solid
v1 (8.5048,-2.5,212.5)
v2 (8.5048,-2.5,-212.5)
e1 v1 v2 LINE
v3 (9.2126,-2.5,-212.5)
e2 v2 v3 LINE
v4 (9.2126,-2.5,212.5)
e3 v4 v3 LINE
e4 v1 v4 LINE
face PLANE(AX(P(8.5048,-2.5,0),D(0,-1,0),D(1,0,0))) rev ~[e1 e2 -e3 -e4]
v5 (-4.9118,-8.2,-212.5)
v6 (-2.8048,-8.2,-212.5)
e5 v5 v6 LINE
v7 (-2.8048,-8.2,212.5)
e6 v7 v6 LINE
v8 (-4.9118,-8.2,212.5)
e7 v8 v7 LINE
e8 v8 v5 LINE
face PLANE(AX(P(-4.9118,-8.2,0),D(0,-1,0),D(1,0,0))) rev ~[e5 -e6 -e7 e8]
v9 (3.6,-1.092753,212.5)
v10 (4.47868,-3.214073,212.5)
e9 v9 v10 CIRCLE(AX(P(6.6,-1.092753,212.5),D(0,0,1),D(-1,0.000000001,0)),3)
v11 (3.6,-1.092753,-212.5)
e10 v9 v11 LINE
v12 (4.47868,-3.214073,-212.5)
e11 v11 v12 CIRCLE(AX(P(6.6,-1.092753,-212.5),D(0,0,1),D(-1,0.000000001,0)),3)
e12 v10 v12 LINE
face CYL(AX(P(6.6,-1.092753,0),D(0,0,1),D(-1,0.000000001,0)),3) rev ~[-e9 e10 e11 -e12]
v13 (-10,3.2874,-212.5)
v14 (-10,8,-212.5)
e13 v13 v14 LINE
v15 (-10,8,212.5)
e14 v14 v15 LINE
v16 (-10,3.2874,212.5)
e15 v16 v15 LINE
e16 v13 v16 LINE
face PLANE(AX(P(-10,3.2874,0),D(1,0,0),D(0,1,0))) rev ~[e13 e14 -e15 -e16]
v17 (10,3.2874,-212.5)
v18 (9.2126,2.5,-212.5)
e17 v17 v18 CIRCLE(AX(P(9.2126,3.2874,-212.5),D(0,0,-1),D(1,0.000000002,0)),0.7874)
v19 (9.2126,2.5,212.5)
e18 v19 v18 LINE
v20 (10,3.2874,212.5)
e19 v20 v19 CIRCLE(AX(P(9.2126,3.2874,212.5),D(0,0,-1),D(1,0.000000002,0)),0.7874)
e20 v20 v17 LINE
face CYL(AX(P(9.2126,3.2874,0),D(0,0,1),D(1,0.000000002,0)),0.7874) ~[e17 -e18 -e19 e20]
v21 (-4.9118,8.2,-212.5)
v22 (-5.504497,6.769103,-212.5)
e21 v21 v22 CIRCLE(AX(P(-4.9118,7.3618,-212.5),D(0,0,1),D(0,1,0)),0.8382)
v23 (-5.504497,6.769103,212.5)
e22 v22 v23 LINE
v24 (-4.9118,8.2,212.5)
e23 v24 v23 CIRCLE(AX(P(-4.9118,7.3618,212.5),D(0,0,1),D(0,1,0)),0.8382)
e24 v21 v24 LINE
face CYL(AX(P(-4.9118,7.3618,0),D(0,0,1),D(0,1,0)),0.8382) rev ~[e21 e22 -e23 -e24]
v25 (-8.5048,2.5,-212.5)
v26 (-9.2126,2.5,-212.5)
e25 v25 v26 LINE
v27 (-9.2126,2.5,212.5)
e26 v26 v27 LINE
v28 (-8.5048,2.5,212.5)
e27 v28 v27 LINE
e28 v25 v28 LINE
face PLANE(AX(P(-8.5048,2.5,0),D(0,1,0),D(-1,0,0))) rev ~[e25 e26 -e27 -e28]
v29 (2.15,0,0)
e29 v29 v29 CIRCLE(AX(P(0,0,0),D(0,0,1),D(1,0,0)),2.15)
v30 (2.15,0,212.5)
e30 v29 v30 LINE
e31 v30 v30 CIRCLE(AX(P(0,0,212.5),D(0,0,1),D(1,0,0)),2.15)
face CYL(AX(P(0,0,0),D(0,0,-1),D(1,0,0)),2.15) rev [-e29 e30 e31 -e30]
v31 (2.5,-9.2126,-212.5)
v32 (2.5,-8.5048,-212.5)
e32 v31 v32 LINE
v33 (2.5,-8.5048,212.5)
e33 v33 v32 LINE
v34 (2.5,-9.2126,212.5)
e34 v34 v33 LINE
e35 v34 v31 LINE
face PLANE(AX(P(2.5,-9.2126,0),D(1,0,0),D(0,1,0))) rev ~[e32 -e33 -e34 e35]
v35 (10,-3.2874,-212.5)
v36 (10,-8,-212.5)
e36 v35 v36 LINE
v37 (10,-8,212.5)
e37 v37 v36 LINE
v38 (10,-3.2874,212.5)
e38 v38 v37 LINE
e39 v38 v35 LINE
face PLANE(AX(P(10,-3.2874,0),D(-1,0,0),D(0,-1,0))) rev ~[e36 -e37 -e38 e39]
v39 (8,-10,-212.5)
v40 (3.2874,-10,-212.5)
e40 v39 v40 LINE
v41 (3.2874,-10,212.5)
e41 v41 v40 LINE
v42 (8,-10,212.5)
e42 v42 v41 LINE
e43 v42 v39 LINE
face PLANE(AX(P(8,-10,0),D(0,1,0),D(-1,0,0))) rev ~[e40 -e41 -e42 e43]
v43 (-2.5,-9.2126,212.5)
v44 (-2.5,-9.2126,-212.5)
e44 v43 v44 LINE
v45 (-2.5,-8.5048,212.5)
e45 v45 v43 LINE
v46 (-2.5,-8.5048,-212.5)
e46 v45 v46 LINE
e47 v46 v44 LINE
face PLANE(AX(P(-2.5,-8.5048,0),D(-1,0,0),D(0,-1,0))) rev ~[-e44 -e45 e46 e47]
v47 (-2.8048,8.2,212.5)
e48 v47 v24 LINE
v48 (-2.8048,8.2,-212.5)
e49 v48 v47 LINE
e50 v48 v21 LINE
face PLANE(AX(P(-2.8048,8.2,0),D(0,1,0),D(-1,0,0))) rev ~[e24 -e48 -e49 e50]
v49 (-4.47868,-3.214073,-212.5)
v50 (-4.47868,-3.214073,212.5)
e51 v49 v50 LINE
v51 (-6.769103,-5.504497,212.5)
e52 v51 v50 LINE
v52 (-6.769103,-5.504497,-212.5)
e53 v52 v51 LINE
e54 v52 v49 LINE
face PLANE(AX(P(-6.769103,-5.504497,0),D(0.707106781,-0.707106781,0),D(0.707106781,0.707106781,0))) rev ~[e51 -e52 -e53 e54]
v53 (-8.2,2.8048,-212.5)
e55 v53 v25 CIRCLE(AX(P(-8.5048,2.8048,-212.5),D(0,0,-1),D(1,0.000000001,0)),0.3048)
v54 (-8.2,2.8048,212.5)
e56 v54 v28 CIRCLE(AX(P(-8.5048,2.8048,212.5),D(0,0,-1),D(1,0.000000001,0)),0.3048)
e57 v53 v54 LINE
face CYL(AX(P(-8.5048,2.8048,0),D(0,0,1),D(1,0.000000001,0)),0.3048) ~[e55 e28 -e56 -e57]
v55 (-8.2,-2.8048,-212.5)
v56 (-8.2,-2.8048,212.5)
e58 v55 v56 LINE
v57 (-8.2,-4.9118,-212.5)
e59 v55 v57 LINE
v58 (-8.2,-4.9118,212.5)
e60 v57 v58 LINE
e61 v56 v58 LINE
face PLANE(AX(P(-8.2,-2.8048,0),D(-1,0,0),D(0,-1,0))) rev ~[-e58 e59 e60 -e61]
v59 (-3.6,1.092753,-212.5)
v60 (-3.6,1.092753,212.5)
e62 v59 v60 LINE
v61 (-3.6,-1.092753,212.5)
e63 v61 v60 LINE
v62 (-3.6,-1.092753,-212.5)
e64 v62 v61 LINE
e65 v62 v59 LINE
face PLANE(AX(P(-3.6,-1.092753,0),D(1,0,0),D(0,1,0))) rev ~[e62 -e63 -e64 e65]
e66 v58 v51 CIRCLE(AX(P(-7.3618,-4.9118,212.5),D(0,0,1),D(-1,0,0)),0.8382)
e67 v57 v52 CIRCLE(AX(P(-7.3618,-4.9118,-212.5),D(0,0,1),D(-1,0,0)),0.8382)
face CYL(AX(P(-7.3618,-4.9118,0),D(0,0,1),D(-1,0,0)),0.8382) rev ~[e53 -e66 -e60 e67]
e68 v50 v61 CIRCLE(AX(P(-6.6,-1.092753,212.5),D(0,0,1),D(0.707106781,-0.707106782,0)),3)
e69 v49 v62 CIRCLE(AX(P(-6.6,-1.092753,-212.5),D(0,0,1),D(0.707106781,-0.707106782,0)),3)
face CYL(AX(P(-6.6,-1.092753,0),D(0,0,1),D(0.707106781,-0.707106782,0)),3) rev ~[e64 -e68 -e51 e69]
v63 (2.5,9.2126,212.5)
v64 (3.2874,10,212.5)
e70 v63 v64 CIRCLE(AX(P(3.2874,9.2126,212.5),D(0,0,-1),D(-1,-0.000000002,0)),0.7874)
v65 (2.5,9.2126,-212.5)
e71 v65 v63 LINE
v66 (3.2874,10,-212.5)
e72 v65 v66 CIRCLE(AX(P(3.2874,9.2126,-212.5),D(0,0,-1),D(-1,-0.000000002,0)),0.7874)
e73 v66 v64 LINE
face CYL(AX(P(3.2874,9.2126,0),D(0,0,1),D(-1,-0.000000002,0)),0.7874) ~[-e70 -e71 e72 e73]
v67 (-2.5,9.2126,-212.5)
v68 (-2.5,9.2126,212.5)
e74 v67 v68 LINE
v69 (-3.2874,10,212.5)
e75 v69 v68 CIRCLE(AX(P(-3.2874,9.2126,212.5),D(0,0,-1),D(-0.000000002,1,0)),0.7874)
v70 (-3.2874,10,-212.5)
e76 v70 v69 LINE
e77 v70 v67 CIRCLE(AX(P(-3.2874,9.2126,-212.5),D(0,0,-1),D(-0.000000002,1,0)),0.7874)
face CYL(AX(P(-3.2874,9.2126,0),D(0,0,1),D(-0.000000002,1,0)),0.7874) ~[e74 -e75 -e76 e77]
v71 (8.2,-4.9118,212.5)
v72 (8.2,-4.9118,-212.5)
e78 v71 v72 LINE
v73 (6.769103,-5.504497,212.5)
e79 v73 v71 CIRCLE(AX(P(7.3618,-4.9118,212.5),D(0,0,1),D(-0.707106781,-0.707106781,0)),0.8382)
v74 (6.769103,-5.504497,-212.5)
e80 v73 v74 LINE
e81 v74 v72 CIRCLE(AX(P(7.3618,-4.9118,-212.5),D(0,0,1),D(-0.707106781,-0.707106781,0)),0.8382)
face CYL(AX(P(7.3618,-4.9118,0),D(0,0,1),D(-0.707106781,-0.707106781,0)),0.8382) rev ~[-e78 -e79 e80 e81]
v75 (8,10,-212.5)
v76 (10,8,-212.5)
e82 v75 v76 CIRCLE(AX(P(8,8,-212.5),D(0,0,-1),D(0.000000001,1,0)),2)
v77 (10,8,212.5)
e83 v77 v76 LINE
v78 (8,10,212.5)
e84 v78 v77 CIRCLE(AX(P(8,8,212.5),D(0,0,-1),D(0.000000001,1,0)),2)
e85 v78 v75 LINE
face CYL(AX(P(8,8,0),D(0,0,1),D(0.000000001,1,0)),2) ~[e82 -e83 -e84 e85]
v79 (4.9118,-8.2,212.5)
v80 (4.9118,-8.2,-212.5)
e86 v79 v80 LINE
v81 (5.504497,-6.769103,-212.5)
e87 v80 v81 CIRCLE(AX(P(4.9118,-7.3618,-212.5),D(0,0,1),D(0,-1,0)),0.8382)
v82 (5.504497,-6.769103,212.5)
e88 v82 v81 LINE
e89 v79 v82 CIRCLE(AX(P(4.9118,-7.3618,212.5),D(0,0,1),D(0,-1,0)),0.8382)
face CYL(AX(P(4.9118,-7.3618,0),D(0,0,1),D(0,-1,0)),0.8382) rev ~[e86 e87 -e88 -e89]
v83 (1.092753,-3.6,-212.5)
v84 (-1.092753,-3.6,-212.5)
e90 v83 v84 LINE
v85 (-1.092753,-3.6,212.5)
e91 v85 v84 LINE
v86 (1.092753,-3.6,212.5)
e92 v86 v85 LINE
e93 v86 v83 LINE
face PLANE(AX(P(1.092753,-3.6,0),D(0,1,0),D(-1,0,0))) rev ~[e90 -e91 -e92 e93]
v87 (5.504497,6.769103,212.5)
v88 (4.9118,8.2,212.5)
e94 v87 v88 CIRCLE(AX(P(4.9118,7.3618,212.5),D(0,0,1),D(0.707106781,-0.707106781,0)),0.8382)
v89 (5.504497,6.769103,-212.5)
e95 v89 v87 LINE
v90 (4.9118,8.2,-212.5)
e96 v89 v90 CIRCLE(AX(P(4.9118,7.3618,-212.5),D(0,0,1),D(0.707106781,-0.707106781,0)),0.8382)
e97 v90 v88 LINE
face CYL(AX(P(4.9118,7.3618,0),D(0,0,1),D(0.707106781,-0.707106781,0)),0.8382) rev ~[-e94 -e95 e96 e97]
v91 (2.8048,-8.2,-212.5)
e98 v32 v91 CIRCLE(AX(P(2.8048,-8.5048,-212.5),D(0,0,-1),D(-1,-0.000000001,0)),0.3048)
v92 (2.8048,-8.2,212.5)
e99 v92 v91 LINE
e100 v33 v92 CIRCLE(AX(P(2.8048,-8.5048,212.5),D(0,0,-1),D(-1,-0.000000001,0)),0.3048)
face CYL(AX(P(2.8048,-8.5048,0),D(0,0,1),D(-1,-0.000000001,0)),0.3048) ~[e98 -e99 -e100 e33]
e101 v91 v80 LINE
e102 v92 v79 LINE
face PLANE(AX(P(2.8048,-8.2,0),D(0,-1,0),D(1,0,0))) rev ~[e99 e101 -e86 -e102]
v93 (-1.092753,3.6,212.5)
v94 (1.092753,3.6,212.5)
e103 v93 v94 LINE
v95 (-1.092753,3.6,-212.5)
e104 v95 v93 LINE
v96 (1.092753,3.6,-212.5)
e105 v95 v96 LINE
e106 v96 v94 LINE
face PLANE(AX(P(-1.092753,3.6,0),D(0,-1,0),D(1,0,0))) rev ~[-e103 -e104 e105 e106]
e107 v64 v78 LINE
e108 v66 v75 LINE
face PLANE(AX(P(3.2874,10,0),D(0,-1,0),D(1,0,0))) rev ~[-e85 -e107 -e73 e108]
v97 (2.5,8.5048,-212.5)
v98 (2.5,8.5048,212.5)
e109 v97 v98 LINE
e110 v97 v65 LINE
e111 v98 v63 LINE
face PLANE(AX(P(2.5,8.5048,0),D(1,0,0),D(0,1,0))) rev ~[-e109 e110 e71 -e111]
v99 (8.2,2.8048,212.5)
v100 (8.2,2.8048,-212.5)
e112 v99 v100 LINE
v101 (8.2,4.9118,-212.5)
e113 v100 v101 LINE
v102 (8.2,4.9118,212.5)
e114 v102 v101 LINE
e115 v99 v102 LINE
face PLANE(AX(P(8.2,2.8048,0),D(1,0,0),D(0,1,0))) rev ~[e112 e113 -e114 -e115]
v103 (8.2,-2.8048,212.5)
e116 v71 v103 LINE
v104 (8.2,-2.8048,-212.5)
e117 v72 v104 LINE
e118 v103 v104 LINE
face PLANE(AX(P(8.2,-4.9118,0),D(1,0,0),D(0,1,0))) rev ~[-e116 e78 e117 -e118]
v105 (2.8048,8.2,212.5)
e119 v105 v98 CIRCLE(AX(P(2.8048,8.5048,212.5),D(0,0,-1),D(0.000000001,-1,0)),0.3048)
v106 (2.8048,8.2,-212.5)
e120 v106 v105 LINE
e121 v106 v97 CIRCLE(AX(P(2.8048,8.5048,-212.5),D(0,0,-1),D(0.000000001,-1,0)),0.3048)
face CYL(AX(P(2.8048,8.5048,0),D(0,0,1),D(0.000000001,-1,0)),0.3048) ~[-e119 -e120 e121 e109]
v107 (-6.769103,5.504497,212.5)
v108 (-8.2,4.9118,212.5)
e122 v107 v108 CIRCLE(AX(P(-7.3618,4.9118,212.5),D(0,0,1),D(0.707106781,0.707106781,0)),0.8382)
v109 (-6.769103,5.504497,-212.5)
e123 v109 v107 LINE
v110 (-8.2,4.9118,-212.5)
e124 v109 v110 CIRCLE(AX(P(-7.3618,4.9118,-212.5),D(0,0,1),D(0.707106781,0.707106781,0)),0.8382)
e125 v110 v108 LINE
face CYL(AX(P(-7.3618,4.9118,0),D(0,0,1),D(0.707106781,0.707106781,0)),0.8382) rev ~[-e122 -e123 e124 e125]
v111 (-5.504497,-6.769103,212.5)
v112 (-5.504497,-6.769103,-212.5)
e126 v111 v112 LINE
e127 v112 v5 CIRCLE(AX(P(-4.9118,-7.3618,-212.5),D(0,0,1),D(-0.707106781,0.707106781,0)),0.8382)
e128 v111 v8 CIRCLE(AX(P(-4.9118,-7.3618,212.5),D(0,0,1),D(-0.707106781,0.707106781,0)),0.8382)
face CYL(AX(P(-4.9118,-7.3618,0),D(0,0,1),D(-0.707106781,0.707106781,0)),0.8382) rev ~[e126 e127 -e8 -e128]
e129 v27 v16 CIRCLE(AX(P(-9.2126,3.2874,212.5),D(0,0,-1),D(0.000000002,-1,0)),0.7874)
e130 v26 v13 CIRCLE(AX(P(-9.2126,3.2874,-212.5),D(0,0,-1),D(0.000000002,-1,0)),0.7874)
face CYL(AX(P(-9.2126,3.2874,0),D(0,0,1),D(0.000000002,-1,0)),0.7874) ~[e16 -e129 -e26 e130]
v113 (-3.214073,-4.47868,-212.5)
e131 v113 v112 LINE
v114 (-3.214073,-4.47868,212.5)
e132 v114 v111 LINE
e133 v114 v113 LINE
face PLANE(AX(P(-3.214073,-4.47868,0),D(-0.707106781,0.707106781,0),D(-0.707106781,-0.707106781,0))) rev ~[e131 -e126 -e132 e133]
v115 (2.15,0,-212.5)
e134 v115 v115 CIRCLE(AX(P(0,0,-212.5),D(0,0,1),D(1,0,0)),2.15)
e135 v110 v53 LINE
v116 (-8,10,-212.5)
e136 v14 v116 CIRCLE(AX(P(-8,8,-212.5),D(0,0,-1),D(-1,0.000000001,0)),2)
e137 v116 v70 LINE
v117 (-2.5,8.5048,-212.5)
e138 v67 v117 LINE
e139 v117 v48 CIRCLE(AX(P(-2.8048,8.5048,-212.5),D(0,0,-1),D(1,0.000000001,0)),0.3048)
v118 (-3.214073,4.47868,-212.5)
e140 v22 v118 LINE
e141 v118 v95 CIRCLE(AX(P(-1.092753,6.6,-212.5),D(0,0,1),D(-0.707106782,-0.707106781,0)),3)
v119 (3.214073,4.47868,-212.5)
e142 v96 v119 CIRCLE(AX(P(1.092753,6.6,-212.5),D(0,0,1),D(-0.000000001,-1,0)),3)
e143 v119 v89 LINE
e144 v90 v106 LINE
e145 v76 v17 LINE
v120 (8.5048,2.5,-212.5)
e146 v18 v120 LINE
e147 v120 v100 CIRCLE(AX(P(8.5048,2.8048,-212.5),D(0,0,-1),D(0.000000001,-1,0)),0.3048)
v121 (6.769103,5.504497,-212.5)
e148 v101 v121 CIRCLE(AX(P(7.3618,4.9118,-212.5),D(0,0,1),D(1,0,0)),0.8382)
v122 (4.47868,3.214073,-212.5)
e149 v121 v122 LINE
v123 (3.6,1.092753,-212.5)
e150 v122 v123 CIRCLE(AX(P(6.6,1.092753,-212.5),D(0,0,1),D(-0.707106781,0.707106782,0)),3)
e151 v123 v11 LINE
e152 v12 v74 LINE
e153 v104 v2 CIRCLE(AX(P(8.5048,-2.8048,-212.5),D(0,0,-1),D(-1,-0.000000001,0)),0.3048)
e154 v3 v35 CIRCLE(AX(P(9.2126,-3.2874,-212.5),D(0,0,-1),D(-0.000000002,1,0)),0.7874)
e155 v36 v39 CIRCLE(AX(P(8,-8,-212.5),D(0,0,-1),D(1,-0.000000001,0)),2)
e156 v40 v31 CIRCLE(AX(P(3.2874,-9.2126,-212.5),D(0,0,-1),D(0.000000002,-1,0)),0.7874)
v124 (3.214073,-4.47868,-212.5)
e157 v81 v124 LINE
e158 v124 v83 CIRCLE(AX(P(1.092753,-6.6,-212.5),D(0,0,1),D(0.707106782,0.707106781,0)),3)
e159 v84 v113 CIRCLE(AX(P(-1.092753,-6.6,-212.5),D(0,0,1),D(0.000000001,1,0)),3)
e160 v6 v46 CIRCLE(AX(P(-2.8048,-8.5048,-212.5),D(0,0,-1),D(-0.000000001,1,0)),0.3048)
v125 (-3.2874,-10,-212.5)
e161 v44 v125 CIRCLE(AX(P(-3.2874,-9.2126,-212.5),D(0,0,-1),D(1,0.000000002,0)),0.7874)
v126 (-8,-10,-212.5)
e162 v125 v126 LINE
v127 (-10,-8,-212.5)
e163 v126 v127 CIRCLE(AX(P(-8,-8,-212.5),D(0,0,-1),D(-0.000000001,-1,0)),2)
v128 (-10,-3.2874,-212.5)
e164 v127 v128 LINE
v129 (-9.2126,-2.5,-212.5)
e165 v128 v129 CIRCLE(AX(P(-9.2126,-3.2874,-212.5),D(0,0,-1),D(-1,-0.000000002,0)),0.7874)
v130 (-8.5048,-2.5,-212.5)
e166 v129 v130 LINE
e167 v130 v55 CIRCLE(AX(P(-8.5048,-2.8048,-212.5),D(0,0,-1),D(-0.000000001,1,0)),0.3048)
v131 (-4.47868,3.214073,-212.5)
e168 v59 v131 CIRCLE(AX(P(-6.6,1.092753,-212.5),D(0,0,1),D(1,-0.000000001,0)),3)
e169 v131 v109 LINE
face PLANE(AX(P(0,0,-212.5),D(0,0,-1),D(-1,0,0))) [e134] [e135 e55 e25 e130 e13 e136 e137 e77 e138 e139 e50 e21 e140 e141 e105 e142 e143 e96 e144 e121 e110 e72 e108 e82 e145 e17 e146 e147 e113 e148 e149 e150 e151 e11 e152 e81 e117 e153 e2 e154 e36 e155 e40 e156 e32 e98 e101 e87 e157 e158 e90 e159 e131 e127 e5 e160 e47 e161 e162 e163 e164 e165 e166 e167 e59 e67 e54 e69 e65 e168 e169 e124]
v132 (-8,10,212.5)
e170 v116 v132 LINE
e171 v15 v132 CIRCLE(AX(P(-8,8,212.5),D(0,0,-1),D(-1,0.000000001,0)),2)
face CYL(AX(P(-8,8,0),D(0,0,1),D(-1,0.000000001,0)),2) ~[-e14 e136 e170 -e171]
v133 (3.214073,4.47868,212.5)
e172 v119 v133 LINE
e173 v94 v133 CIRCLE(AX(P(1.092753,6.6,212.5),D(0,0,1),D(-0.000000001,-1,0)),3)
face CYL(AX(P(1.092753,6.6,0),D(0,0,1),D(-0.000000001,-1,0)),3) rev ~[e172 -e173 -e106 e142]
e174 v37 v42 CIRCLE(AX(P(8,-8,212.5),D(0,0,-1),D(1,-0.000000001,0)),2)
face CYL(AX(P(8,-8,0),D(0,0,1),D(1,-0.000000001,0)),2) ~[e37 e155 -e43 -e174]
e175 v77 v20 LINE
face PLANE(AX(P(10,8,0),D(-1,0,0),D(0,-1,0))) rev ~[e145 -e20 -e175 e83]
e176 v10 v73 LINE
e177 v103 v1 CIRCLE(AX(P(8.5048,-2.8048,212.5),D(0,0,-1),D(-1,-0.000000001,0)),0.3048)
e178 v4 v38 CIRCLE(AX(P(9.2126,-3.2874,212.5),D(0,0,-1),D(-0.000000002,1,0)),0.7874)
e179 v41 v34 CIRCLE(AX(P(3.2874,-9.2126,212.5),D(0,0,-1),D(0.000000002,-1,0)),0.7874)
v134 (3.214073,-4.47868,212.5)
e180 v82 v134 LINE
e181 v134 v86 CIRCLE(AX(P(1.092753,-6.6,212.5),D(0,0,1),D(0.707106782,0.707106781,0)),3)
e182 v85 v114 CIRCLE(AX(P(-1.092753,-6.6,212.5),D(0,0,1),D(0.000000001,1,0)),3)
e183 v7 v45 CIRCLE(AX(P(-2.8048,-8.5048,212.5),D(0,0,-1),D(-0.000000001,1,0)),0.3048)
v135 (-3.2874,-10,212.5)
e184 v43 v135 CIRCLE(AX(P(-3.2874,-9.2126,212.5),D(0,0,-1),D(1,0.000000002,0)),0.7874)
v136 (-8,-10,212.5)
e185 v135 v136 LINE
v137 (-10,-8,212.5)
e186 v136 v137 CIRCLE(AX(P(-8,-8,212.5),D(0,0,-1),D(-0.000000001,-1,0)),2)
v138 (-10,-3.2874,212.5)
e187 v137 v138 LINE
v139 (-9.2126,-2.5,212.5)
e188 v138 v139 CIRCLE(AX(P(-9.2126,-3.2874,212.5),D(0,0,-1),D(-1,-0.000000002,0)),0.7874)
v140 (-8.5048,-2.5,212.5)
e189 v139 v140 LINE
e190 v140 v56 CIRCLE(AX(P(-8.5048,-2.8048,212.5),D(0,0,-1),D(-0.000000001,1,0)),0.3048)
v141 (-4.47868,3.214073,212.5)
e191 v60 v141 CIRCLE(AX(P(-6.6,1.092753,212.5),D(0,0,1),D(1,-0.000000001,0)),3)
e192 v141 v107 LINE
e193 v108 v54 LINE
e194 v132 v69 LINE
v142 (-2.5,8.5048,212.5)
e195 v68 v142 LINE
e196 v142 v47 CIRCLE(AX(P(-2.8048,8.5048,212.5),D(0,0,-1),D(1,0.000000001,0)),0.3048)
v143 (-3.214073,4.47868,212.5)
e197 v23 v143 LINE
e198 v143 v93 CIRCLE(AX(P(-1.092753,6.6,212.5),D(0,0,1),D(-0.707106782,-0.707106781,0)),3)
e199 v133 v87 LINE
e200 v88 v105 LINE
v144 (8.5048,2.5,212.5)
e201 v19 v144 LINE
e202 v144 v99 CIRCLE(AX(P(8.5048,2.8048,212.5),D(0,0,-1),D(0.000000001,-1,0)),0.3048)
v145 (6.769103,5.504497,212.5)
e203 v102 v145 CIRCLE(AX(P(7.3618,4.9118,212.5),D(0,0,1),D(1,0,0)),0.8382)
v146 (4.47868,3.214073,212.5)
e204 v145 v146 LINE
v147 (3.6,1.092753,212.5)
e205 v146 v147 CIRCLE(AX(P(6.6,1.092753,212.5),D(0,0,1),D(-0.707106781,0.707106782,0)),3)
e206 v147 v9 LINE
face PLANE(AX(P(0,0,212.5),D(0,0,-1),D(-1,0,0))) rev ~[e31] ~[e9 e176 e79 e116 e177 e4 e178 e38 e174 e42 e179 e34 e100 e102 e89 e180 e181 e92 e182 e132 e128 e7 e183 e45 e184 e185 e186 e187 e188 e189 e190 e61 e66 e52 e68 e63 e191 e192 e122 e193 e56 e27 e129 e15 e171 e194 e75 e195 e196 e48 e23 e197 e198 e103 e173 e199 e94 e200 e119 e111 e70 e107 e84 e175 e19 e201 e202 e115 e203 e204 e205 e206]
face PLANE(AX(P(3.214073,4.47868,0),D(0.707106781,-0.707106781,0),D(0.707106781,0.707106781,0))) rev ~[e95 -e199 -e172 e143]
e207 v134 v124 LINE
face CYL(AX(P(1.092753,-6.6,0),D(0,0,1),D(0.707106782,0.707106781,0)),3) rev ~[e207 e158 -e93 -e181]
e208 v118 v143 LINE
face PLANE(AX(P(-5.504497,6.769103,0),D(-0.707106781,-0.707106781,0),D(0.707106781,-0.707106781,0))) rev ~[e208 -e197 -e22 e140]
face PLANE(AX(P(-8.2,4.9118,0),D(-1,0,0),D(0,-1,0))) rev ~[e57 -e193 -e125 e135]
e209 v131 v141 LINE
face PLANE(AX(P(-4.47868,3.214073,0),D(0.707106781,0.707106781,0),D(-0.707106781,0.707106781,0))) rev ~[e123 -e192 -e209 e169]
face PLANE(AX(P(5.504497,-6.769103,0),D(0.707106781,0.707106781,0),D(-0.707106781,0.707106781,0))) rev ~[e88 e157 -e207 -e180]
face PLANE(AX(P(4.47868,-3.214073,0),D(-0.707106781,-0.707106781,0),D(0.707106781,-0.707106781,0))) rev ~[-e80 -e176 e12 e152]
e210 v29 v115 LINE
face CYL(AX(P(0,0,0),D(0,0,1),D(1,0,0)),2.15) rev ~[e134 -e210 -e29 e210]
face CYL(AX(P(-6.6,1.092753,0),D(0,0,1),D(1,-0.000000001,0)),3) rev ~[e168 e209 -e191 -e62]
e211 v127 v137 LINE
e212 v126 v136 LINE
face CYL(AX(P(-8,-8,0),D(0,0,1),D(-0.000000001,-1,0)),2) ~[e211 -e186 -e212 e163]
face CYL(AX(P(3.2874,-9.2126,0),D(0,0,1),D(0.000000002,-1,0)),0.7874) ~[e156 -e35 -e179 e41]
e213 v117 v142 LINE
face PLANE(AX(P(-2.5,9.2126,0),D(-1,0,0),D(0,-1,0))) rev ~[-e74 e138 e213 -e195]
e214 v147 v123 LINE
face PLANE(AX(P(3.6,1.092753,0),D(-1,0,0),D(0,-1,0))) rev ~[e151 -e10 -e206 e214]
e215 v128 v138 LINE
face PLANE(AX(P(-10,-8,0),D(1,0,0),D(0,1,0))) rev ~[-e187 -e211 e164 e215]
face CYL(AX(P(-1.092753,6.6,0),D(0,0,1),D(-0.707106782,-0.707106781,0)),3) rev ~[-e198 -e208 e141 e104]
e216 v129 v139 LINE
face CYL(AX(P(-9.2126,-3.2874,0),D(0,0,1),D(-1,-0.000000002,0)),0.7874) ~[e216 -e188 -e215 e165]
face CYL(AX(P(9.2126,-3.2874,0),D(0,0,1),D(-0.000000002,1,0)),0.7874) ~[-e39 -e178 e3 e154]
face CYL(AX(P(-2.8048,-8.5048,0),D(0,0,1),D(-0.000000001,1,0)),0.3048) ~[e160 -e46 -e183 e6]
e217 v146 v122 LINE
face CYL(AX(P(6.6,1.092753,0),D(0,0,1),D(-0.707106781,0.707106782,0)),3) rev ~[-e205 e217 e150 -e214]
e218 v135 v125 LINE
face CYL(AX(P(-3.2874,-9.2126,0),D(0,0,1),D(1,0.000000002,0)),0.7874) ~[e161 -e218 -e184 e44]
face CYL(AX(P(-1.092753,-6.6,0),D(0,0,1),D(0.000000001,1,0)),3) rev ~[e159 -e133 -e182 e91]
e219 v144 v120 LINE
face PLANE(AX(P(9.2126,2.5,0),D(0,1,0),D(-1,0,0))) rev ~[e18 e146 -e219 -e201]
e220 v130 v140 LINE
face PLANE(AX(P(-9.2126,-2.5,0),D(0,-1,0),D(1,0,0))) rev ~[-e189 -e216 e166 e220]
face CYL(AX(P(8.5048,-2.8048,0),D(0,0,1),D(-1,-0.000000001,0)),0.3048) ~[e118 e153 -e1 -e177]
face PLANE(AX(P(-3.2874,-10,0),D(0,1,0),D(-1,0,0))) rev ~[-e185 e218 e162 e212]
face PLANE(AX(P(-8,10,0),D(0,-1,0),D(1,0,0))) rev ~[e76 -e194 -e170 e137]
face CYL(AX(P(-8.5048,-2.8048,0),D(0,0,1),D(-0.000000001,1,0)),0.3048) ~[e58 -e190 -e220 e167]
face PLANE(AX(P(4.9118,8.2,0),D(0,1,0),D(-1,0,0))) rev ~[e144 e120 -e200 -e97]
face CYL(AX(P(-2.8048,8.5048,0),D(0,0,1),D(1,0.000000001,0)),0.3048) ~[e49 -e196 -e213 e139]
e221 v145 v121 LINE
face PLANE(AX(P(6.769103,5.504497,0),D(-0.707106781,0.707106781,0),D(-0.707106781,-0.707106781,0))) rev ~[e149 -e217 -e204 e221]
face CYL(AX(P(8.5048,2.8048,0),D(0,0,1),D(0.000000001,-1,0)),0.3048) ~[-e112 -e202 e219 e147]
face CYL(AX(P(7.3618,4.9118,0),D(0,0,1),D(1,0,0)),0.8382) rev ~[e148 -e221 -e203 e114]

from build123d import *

# Parameters (mm, degrees)
SKETCH3_R                = 2.15
BOSS_EXTRUDE1_DEPTH      = 212.5
BOSS_EXTRUDE1_DEPTH_BACK = 212.5


with BuildPart() as part:
    # Sketch3 → Boss-Extrude1 (new body, two sides)
    with BuildSketch(Plane.XY) as boss_extrude1_sk:
        with BuildLine():
            Line((3.2874, 10), (8, 10))
            ThreePointArc((8, 10), (9.414213562, 9.414213562), (10, 8))
            Line((10, 8), (10, 3.2874))
            ThreePointArc((10, 3.2874), (9.76937588, 2.73062412), (9.2126, 2.5))
            Line((9.2126, 2.5), (8.5048, 2.5))
            ThreePointArc((8.5048, 2.5), (8.289273853, 2.589273853), (8.2, 2.8048))
            Line((8.2, 2.8048), (8.2, 4.9118))
            ThreePointArc((8.2, 4.9118), (7.682565253, 5.686195824), (6.769103096, 5.504496904))
            Line((6.769103096, 5.504496904), (4.478679656, 3.214073464))
            ThreePointArc((4.478679656, 3.214073464), (3.828361402, 2.240803418), (3.6, 1.092753121))
            Line((3.6, 1.092753121), (3.6, -1.092753121))
            ThreePointArc((3.6, -1.092753121), (3.828361402, -2.240803418), (4.478679656, -3.214073464))
            Line((4.478679656, -3.214073464), (6.769103096, -5.504496904))
            ThreePointArc((6.769103096, -5.504496904), (7.682565253, -5.686195824), (8.2, -4.9118))
            Line((8.2, -4.9118), (8.2, -2.8048))
            ThreePointArc((8.2, -2.8048), (8.289273853, -2.589273853), (8.5048, -2.5))
            Line((8.5048, -2.5), (9.2126, -2.5))
            ThreePointArc((9.2126, -2.5), (9.76937588, -2.73062412), (10, -3.2874))
            Line((10, -3.2874), (10, -8))
            ThreePointArc((10, -8), (9.414213562, -9.414213562), (8, -10))
            Line((8, -10), (3.2874, -10))
            ThreePointArc((3.2874, -10), (2.73062412, -9.76937588), (2.5, -9.2126))
            Line((2.5, -9.2126), (2.5, -8.5048))
            ThreePointArc((2.5, -8.5048), (2.589273853, -8.289273853), (2.8048, -8.2))
            Line((2.8048, -8.2), (4.9118, -8.2))
            ThreePointArc((4.9118, -8.2), (5.686195824, -7.682565253), (5.504496904, -6.769103096))
            Line((5.504496904, -6.769103096), (3.214073464, -4.478679656))
            ThreePointArc((3.214073464, -4.478679656), (2.240803418, -3.828361402), (1.092753121, -3.6))
            Line((1.092753121, -3.6), (-1.092753121, -3.6))
            ThreePointArc((-1.092753121, -3.6), (-2.240803418, -3.828361402), (-3.214073464, -4.478679656))
            Line((-3.214073464, -4.478679656), (-5.504496904, -6.769103096))
            ThreePointArc((-5.504496904, -6.769103096), (-5.686195824, -7.682565253), (-4.9118, -8.2))
            Line((-4.9118, -8.2), (-2.8048, -8.2))
            ThreePointArc((-2.8048, -8.2), (-2.589273853, -8.289273853), (-2.5, -8.5048))
            Line((-2.5, -8.5048), (-2.5, -9.2126))
            ThreePointArc((-2.5, -9.2126), (-2.73062412, -9.76937588), (-3.2874, -10))
            Line((-3.2874, -10), (-8, -10))
            ThreePointArc((-8, -10), (-9.414213562, -9.414213562), (-10, -8))
            Line((-10, -8), (-10, -3.2874))
            ThreePointArc((-10, -3.2874), (-9.76937588, -2.73062412), (-9.2126, -2.5))
            Line((-9.2126, -2.5), (-8.5048, -2.5))
            ThreePointArc((-8.5048, -2.5), (-8.289273853, -2.589273853), (-8.2, -2.8048))
            Line((-8.2, -2.8048), (-8.2, -4.9118))
            ThreePointArc((-8.2, -4.9118), (-7.682565253, -5.686195824), (-6.769103096, -5.504496904))
            Line((-6.769103096, -5.504496904), (-4.478679656, -3.214073464))
            ThreePointArc((-4.478679656, -3.214073464), (-3.828361402, -2.240803418), (-3.6, -1.092753121))
            Line((-3.6, -1.092753121), (-3.6, 1.092753121))
            ThreePointArc((-3.6, 1.092753121), (-3.828361402, 2.240803418), (-4.478679656, 3.214073464))
            Line((-4.478679656, 3.214073464), (-6.769103096, 5.504496904))
            ThreePointArc((-6.769103096, 5.504496904), (-7.682565253, 5.686195824), (-8.2, 4.9118))
            Line((-8.2, 4.9118), (-8.2, 2.8048))
            ThreePointArc((-8.2, 2.8048), (-8.289273853, 2.589273853), (-8.5048, 2.5))
            Line((-8.5048, 2.5), (-9.2126, 2.5))
            ThreePointArc((-9.2126, 2.5), (-9.76937588, 2.73062412), (-10, 3.2874))
            Line((-10, 3.2874), (-10, 8))
            ThreePointArc((-10, 8), (-9.414213562, 9.414213562), (-8, 10))
            Line((-8, 10), (-3.2874, 10))
            ThreePointArc((-3.2874, 10), (-2.73062412, 9.76937588), (-2.5, 9.2126))
            Line((-2.5, 9.2126), (-2.5, 8.5048))
            ThreePointArc((-2.5, 8.5048), (-2.589273853, 8.289273853), (-2.8048, 8.2))
            Line((-2.8048, 8.2), (-4.9118, 8.2))
            ThreePointArc((-4.9118, 8.2), (-5.686195824, 7.682565253), (-5.504496904, 6.769103096))
            Line((-5.504496904, 6.769103096), (-3.214073464, 4.478679656))
            ThreePointArc((-3.214073464, 4.478679656), (-2.240803418, 3.828361402), (-1.092753121, 3.6))
            Line((-1.092753121, 3.6), (1.092753121, 3.6))
            ThreePointArc((1.092753121, 3.6), (2.240803418, 3.828361402), (3.214073464, 4.478679656))
            Line((3.214073464, 4.478679656), (5.504496904, 6.769103096))
            ThreePointArc((5.504496904, 6.769103096), (5.686195824, 7.682565253), (4.9118, 8.2))
            Line((4.9118, 8.2), (2.8048, 8.2))
            ThreePointArc((2.8048, 8.2), (2.589273853, 8.289273853), (2.5, 8.5048))
            Line((2.5, 8.5048), (2.5, 9.2126))
            ThreePointArc((2.5, 9.2126), (2.73062412, 9.76937588), (3.2874, 10))
        make_face()
        Circle(SKETCH3_R, mode=Mode.SUBTRACT)
    extrude(amount=BOSS_EXTRUDE1_DEPTH)
    extrude(boss_extrude1_sk.sketch, amount=-BOSS_EXTRUDE1_DEPTH_BACK)


solid = part.part
